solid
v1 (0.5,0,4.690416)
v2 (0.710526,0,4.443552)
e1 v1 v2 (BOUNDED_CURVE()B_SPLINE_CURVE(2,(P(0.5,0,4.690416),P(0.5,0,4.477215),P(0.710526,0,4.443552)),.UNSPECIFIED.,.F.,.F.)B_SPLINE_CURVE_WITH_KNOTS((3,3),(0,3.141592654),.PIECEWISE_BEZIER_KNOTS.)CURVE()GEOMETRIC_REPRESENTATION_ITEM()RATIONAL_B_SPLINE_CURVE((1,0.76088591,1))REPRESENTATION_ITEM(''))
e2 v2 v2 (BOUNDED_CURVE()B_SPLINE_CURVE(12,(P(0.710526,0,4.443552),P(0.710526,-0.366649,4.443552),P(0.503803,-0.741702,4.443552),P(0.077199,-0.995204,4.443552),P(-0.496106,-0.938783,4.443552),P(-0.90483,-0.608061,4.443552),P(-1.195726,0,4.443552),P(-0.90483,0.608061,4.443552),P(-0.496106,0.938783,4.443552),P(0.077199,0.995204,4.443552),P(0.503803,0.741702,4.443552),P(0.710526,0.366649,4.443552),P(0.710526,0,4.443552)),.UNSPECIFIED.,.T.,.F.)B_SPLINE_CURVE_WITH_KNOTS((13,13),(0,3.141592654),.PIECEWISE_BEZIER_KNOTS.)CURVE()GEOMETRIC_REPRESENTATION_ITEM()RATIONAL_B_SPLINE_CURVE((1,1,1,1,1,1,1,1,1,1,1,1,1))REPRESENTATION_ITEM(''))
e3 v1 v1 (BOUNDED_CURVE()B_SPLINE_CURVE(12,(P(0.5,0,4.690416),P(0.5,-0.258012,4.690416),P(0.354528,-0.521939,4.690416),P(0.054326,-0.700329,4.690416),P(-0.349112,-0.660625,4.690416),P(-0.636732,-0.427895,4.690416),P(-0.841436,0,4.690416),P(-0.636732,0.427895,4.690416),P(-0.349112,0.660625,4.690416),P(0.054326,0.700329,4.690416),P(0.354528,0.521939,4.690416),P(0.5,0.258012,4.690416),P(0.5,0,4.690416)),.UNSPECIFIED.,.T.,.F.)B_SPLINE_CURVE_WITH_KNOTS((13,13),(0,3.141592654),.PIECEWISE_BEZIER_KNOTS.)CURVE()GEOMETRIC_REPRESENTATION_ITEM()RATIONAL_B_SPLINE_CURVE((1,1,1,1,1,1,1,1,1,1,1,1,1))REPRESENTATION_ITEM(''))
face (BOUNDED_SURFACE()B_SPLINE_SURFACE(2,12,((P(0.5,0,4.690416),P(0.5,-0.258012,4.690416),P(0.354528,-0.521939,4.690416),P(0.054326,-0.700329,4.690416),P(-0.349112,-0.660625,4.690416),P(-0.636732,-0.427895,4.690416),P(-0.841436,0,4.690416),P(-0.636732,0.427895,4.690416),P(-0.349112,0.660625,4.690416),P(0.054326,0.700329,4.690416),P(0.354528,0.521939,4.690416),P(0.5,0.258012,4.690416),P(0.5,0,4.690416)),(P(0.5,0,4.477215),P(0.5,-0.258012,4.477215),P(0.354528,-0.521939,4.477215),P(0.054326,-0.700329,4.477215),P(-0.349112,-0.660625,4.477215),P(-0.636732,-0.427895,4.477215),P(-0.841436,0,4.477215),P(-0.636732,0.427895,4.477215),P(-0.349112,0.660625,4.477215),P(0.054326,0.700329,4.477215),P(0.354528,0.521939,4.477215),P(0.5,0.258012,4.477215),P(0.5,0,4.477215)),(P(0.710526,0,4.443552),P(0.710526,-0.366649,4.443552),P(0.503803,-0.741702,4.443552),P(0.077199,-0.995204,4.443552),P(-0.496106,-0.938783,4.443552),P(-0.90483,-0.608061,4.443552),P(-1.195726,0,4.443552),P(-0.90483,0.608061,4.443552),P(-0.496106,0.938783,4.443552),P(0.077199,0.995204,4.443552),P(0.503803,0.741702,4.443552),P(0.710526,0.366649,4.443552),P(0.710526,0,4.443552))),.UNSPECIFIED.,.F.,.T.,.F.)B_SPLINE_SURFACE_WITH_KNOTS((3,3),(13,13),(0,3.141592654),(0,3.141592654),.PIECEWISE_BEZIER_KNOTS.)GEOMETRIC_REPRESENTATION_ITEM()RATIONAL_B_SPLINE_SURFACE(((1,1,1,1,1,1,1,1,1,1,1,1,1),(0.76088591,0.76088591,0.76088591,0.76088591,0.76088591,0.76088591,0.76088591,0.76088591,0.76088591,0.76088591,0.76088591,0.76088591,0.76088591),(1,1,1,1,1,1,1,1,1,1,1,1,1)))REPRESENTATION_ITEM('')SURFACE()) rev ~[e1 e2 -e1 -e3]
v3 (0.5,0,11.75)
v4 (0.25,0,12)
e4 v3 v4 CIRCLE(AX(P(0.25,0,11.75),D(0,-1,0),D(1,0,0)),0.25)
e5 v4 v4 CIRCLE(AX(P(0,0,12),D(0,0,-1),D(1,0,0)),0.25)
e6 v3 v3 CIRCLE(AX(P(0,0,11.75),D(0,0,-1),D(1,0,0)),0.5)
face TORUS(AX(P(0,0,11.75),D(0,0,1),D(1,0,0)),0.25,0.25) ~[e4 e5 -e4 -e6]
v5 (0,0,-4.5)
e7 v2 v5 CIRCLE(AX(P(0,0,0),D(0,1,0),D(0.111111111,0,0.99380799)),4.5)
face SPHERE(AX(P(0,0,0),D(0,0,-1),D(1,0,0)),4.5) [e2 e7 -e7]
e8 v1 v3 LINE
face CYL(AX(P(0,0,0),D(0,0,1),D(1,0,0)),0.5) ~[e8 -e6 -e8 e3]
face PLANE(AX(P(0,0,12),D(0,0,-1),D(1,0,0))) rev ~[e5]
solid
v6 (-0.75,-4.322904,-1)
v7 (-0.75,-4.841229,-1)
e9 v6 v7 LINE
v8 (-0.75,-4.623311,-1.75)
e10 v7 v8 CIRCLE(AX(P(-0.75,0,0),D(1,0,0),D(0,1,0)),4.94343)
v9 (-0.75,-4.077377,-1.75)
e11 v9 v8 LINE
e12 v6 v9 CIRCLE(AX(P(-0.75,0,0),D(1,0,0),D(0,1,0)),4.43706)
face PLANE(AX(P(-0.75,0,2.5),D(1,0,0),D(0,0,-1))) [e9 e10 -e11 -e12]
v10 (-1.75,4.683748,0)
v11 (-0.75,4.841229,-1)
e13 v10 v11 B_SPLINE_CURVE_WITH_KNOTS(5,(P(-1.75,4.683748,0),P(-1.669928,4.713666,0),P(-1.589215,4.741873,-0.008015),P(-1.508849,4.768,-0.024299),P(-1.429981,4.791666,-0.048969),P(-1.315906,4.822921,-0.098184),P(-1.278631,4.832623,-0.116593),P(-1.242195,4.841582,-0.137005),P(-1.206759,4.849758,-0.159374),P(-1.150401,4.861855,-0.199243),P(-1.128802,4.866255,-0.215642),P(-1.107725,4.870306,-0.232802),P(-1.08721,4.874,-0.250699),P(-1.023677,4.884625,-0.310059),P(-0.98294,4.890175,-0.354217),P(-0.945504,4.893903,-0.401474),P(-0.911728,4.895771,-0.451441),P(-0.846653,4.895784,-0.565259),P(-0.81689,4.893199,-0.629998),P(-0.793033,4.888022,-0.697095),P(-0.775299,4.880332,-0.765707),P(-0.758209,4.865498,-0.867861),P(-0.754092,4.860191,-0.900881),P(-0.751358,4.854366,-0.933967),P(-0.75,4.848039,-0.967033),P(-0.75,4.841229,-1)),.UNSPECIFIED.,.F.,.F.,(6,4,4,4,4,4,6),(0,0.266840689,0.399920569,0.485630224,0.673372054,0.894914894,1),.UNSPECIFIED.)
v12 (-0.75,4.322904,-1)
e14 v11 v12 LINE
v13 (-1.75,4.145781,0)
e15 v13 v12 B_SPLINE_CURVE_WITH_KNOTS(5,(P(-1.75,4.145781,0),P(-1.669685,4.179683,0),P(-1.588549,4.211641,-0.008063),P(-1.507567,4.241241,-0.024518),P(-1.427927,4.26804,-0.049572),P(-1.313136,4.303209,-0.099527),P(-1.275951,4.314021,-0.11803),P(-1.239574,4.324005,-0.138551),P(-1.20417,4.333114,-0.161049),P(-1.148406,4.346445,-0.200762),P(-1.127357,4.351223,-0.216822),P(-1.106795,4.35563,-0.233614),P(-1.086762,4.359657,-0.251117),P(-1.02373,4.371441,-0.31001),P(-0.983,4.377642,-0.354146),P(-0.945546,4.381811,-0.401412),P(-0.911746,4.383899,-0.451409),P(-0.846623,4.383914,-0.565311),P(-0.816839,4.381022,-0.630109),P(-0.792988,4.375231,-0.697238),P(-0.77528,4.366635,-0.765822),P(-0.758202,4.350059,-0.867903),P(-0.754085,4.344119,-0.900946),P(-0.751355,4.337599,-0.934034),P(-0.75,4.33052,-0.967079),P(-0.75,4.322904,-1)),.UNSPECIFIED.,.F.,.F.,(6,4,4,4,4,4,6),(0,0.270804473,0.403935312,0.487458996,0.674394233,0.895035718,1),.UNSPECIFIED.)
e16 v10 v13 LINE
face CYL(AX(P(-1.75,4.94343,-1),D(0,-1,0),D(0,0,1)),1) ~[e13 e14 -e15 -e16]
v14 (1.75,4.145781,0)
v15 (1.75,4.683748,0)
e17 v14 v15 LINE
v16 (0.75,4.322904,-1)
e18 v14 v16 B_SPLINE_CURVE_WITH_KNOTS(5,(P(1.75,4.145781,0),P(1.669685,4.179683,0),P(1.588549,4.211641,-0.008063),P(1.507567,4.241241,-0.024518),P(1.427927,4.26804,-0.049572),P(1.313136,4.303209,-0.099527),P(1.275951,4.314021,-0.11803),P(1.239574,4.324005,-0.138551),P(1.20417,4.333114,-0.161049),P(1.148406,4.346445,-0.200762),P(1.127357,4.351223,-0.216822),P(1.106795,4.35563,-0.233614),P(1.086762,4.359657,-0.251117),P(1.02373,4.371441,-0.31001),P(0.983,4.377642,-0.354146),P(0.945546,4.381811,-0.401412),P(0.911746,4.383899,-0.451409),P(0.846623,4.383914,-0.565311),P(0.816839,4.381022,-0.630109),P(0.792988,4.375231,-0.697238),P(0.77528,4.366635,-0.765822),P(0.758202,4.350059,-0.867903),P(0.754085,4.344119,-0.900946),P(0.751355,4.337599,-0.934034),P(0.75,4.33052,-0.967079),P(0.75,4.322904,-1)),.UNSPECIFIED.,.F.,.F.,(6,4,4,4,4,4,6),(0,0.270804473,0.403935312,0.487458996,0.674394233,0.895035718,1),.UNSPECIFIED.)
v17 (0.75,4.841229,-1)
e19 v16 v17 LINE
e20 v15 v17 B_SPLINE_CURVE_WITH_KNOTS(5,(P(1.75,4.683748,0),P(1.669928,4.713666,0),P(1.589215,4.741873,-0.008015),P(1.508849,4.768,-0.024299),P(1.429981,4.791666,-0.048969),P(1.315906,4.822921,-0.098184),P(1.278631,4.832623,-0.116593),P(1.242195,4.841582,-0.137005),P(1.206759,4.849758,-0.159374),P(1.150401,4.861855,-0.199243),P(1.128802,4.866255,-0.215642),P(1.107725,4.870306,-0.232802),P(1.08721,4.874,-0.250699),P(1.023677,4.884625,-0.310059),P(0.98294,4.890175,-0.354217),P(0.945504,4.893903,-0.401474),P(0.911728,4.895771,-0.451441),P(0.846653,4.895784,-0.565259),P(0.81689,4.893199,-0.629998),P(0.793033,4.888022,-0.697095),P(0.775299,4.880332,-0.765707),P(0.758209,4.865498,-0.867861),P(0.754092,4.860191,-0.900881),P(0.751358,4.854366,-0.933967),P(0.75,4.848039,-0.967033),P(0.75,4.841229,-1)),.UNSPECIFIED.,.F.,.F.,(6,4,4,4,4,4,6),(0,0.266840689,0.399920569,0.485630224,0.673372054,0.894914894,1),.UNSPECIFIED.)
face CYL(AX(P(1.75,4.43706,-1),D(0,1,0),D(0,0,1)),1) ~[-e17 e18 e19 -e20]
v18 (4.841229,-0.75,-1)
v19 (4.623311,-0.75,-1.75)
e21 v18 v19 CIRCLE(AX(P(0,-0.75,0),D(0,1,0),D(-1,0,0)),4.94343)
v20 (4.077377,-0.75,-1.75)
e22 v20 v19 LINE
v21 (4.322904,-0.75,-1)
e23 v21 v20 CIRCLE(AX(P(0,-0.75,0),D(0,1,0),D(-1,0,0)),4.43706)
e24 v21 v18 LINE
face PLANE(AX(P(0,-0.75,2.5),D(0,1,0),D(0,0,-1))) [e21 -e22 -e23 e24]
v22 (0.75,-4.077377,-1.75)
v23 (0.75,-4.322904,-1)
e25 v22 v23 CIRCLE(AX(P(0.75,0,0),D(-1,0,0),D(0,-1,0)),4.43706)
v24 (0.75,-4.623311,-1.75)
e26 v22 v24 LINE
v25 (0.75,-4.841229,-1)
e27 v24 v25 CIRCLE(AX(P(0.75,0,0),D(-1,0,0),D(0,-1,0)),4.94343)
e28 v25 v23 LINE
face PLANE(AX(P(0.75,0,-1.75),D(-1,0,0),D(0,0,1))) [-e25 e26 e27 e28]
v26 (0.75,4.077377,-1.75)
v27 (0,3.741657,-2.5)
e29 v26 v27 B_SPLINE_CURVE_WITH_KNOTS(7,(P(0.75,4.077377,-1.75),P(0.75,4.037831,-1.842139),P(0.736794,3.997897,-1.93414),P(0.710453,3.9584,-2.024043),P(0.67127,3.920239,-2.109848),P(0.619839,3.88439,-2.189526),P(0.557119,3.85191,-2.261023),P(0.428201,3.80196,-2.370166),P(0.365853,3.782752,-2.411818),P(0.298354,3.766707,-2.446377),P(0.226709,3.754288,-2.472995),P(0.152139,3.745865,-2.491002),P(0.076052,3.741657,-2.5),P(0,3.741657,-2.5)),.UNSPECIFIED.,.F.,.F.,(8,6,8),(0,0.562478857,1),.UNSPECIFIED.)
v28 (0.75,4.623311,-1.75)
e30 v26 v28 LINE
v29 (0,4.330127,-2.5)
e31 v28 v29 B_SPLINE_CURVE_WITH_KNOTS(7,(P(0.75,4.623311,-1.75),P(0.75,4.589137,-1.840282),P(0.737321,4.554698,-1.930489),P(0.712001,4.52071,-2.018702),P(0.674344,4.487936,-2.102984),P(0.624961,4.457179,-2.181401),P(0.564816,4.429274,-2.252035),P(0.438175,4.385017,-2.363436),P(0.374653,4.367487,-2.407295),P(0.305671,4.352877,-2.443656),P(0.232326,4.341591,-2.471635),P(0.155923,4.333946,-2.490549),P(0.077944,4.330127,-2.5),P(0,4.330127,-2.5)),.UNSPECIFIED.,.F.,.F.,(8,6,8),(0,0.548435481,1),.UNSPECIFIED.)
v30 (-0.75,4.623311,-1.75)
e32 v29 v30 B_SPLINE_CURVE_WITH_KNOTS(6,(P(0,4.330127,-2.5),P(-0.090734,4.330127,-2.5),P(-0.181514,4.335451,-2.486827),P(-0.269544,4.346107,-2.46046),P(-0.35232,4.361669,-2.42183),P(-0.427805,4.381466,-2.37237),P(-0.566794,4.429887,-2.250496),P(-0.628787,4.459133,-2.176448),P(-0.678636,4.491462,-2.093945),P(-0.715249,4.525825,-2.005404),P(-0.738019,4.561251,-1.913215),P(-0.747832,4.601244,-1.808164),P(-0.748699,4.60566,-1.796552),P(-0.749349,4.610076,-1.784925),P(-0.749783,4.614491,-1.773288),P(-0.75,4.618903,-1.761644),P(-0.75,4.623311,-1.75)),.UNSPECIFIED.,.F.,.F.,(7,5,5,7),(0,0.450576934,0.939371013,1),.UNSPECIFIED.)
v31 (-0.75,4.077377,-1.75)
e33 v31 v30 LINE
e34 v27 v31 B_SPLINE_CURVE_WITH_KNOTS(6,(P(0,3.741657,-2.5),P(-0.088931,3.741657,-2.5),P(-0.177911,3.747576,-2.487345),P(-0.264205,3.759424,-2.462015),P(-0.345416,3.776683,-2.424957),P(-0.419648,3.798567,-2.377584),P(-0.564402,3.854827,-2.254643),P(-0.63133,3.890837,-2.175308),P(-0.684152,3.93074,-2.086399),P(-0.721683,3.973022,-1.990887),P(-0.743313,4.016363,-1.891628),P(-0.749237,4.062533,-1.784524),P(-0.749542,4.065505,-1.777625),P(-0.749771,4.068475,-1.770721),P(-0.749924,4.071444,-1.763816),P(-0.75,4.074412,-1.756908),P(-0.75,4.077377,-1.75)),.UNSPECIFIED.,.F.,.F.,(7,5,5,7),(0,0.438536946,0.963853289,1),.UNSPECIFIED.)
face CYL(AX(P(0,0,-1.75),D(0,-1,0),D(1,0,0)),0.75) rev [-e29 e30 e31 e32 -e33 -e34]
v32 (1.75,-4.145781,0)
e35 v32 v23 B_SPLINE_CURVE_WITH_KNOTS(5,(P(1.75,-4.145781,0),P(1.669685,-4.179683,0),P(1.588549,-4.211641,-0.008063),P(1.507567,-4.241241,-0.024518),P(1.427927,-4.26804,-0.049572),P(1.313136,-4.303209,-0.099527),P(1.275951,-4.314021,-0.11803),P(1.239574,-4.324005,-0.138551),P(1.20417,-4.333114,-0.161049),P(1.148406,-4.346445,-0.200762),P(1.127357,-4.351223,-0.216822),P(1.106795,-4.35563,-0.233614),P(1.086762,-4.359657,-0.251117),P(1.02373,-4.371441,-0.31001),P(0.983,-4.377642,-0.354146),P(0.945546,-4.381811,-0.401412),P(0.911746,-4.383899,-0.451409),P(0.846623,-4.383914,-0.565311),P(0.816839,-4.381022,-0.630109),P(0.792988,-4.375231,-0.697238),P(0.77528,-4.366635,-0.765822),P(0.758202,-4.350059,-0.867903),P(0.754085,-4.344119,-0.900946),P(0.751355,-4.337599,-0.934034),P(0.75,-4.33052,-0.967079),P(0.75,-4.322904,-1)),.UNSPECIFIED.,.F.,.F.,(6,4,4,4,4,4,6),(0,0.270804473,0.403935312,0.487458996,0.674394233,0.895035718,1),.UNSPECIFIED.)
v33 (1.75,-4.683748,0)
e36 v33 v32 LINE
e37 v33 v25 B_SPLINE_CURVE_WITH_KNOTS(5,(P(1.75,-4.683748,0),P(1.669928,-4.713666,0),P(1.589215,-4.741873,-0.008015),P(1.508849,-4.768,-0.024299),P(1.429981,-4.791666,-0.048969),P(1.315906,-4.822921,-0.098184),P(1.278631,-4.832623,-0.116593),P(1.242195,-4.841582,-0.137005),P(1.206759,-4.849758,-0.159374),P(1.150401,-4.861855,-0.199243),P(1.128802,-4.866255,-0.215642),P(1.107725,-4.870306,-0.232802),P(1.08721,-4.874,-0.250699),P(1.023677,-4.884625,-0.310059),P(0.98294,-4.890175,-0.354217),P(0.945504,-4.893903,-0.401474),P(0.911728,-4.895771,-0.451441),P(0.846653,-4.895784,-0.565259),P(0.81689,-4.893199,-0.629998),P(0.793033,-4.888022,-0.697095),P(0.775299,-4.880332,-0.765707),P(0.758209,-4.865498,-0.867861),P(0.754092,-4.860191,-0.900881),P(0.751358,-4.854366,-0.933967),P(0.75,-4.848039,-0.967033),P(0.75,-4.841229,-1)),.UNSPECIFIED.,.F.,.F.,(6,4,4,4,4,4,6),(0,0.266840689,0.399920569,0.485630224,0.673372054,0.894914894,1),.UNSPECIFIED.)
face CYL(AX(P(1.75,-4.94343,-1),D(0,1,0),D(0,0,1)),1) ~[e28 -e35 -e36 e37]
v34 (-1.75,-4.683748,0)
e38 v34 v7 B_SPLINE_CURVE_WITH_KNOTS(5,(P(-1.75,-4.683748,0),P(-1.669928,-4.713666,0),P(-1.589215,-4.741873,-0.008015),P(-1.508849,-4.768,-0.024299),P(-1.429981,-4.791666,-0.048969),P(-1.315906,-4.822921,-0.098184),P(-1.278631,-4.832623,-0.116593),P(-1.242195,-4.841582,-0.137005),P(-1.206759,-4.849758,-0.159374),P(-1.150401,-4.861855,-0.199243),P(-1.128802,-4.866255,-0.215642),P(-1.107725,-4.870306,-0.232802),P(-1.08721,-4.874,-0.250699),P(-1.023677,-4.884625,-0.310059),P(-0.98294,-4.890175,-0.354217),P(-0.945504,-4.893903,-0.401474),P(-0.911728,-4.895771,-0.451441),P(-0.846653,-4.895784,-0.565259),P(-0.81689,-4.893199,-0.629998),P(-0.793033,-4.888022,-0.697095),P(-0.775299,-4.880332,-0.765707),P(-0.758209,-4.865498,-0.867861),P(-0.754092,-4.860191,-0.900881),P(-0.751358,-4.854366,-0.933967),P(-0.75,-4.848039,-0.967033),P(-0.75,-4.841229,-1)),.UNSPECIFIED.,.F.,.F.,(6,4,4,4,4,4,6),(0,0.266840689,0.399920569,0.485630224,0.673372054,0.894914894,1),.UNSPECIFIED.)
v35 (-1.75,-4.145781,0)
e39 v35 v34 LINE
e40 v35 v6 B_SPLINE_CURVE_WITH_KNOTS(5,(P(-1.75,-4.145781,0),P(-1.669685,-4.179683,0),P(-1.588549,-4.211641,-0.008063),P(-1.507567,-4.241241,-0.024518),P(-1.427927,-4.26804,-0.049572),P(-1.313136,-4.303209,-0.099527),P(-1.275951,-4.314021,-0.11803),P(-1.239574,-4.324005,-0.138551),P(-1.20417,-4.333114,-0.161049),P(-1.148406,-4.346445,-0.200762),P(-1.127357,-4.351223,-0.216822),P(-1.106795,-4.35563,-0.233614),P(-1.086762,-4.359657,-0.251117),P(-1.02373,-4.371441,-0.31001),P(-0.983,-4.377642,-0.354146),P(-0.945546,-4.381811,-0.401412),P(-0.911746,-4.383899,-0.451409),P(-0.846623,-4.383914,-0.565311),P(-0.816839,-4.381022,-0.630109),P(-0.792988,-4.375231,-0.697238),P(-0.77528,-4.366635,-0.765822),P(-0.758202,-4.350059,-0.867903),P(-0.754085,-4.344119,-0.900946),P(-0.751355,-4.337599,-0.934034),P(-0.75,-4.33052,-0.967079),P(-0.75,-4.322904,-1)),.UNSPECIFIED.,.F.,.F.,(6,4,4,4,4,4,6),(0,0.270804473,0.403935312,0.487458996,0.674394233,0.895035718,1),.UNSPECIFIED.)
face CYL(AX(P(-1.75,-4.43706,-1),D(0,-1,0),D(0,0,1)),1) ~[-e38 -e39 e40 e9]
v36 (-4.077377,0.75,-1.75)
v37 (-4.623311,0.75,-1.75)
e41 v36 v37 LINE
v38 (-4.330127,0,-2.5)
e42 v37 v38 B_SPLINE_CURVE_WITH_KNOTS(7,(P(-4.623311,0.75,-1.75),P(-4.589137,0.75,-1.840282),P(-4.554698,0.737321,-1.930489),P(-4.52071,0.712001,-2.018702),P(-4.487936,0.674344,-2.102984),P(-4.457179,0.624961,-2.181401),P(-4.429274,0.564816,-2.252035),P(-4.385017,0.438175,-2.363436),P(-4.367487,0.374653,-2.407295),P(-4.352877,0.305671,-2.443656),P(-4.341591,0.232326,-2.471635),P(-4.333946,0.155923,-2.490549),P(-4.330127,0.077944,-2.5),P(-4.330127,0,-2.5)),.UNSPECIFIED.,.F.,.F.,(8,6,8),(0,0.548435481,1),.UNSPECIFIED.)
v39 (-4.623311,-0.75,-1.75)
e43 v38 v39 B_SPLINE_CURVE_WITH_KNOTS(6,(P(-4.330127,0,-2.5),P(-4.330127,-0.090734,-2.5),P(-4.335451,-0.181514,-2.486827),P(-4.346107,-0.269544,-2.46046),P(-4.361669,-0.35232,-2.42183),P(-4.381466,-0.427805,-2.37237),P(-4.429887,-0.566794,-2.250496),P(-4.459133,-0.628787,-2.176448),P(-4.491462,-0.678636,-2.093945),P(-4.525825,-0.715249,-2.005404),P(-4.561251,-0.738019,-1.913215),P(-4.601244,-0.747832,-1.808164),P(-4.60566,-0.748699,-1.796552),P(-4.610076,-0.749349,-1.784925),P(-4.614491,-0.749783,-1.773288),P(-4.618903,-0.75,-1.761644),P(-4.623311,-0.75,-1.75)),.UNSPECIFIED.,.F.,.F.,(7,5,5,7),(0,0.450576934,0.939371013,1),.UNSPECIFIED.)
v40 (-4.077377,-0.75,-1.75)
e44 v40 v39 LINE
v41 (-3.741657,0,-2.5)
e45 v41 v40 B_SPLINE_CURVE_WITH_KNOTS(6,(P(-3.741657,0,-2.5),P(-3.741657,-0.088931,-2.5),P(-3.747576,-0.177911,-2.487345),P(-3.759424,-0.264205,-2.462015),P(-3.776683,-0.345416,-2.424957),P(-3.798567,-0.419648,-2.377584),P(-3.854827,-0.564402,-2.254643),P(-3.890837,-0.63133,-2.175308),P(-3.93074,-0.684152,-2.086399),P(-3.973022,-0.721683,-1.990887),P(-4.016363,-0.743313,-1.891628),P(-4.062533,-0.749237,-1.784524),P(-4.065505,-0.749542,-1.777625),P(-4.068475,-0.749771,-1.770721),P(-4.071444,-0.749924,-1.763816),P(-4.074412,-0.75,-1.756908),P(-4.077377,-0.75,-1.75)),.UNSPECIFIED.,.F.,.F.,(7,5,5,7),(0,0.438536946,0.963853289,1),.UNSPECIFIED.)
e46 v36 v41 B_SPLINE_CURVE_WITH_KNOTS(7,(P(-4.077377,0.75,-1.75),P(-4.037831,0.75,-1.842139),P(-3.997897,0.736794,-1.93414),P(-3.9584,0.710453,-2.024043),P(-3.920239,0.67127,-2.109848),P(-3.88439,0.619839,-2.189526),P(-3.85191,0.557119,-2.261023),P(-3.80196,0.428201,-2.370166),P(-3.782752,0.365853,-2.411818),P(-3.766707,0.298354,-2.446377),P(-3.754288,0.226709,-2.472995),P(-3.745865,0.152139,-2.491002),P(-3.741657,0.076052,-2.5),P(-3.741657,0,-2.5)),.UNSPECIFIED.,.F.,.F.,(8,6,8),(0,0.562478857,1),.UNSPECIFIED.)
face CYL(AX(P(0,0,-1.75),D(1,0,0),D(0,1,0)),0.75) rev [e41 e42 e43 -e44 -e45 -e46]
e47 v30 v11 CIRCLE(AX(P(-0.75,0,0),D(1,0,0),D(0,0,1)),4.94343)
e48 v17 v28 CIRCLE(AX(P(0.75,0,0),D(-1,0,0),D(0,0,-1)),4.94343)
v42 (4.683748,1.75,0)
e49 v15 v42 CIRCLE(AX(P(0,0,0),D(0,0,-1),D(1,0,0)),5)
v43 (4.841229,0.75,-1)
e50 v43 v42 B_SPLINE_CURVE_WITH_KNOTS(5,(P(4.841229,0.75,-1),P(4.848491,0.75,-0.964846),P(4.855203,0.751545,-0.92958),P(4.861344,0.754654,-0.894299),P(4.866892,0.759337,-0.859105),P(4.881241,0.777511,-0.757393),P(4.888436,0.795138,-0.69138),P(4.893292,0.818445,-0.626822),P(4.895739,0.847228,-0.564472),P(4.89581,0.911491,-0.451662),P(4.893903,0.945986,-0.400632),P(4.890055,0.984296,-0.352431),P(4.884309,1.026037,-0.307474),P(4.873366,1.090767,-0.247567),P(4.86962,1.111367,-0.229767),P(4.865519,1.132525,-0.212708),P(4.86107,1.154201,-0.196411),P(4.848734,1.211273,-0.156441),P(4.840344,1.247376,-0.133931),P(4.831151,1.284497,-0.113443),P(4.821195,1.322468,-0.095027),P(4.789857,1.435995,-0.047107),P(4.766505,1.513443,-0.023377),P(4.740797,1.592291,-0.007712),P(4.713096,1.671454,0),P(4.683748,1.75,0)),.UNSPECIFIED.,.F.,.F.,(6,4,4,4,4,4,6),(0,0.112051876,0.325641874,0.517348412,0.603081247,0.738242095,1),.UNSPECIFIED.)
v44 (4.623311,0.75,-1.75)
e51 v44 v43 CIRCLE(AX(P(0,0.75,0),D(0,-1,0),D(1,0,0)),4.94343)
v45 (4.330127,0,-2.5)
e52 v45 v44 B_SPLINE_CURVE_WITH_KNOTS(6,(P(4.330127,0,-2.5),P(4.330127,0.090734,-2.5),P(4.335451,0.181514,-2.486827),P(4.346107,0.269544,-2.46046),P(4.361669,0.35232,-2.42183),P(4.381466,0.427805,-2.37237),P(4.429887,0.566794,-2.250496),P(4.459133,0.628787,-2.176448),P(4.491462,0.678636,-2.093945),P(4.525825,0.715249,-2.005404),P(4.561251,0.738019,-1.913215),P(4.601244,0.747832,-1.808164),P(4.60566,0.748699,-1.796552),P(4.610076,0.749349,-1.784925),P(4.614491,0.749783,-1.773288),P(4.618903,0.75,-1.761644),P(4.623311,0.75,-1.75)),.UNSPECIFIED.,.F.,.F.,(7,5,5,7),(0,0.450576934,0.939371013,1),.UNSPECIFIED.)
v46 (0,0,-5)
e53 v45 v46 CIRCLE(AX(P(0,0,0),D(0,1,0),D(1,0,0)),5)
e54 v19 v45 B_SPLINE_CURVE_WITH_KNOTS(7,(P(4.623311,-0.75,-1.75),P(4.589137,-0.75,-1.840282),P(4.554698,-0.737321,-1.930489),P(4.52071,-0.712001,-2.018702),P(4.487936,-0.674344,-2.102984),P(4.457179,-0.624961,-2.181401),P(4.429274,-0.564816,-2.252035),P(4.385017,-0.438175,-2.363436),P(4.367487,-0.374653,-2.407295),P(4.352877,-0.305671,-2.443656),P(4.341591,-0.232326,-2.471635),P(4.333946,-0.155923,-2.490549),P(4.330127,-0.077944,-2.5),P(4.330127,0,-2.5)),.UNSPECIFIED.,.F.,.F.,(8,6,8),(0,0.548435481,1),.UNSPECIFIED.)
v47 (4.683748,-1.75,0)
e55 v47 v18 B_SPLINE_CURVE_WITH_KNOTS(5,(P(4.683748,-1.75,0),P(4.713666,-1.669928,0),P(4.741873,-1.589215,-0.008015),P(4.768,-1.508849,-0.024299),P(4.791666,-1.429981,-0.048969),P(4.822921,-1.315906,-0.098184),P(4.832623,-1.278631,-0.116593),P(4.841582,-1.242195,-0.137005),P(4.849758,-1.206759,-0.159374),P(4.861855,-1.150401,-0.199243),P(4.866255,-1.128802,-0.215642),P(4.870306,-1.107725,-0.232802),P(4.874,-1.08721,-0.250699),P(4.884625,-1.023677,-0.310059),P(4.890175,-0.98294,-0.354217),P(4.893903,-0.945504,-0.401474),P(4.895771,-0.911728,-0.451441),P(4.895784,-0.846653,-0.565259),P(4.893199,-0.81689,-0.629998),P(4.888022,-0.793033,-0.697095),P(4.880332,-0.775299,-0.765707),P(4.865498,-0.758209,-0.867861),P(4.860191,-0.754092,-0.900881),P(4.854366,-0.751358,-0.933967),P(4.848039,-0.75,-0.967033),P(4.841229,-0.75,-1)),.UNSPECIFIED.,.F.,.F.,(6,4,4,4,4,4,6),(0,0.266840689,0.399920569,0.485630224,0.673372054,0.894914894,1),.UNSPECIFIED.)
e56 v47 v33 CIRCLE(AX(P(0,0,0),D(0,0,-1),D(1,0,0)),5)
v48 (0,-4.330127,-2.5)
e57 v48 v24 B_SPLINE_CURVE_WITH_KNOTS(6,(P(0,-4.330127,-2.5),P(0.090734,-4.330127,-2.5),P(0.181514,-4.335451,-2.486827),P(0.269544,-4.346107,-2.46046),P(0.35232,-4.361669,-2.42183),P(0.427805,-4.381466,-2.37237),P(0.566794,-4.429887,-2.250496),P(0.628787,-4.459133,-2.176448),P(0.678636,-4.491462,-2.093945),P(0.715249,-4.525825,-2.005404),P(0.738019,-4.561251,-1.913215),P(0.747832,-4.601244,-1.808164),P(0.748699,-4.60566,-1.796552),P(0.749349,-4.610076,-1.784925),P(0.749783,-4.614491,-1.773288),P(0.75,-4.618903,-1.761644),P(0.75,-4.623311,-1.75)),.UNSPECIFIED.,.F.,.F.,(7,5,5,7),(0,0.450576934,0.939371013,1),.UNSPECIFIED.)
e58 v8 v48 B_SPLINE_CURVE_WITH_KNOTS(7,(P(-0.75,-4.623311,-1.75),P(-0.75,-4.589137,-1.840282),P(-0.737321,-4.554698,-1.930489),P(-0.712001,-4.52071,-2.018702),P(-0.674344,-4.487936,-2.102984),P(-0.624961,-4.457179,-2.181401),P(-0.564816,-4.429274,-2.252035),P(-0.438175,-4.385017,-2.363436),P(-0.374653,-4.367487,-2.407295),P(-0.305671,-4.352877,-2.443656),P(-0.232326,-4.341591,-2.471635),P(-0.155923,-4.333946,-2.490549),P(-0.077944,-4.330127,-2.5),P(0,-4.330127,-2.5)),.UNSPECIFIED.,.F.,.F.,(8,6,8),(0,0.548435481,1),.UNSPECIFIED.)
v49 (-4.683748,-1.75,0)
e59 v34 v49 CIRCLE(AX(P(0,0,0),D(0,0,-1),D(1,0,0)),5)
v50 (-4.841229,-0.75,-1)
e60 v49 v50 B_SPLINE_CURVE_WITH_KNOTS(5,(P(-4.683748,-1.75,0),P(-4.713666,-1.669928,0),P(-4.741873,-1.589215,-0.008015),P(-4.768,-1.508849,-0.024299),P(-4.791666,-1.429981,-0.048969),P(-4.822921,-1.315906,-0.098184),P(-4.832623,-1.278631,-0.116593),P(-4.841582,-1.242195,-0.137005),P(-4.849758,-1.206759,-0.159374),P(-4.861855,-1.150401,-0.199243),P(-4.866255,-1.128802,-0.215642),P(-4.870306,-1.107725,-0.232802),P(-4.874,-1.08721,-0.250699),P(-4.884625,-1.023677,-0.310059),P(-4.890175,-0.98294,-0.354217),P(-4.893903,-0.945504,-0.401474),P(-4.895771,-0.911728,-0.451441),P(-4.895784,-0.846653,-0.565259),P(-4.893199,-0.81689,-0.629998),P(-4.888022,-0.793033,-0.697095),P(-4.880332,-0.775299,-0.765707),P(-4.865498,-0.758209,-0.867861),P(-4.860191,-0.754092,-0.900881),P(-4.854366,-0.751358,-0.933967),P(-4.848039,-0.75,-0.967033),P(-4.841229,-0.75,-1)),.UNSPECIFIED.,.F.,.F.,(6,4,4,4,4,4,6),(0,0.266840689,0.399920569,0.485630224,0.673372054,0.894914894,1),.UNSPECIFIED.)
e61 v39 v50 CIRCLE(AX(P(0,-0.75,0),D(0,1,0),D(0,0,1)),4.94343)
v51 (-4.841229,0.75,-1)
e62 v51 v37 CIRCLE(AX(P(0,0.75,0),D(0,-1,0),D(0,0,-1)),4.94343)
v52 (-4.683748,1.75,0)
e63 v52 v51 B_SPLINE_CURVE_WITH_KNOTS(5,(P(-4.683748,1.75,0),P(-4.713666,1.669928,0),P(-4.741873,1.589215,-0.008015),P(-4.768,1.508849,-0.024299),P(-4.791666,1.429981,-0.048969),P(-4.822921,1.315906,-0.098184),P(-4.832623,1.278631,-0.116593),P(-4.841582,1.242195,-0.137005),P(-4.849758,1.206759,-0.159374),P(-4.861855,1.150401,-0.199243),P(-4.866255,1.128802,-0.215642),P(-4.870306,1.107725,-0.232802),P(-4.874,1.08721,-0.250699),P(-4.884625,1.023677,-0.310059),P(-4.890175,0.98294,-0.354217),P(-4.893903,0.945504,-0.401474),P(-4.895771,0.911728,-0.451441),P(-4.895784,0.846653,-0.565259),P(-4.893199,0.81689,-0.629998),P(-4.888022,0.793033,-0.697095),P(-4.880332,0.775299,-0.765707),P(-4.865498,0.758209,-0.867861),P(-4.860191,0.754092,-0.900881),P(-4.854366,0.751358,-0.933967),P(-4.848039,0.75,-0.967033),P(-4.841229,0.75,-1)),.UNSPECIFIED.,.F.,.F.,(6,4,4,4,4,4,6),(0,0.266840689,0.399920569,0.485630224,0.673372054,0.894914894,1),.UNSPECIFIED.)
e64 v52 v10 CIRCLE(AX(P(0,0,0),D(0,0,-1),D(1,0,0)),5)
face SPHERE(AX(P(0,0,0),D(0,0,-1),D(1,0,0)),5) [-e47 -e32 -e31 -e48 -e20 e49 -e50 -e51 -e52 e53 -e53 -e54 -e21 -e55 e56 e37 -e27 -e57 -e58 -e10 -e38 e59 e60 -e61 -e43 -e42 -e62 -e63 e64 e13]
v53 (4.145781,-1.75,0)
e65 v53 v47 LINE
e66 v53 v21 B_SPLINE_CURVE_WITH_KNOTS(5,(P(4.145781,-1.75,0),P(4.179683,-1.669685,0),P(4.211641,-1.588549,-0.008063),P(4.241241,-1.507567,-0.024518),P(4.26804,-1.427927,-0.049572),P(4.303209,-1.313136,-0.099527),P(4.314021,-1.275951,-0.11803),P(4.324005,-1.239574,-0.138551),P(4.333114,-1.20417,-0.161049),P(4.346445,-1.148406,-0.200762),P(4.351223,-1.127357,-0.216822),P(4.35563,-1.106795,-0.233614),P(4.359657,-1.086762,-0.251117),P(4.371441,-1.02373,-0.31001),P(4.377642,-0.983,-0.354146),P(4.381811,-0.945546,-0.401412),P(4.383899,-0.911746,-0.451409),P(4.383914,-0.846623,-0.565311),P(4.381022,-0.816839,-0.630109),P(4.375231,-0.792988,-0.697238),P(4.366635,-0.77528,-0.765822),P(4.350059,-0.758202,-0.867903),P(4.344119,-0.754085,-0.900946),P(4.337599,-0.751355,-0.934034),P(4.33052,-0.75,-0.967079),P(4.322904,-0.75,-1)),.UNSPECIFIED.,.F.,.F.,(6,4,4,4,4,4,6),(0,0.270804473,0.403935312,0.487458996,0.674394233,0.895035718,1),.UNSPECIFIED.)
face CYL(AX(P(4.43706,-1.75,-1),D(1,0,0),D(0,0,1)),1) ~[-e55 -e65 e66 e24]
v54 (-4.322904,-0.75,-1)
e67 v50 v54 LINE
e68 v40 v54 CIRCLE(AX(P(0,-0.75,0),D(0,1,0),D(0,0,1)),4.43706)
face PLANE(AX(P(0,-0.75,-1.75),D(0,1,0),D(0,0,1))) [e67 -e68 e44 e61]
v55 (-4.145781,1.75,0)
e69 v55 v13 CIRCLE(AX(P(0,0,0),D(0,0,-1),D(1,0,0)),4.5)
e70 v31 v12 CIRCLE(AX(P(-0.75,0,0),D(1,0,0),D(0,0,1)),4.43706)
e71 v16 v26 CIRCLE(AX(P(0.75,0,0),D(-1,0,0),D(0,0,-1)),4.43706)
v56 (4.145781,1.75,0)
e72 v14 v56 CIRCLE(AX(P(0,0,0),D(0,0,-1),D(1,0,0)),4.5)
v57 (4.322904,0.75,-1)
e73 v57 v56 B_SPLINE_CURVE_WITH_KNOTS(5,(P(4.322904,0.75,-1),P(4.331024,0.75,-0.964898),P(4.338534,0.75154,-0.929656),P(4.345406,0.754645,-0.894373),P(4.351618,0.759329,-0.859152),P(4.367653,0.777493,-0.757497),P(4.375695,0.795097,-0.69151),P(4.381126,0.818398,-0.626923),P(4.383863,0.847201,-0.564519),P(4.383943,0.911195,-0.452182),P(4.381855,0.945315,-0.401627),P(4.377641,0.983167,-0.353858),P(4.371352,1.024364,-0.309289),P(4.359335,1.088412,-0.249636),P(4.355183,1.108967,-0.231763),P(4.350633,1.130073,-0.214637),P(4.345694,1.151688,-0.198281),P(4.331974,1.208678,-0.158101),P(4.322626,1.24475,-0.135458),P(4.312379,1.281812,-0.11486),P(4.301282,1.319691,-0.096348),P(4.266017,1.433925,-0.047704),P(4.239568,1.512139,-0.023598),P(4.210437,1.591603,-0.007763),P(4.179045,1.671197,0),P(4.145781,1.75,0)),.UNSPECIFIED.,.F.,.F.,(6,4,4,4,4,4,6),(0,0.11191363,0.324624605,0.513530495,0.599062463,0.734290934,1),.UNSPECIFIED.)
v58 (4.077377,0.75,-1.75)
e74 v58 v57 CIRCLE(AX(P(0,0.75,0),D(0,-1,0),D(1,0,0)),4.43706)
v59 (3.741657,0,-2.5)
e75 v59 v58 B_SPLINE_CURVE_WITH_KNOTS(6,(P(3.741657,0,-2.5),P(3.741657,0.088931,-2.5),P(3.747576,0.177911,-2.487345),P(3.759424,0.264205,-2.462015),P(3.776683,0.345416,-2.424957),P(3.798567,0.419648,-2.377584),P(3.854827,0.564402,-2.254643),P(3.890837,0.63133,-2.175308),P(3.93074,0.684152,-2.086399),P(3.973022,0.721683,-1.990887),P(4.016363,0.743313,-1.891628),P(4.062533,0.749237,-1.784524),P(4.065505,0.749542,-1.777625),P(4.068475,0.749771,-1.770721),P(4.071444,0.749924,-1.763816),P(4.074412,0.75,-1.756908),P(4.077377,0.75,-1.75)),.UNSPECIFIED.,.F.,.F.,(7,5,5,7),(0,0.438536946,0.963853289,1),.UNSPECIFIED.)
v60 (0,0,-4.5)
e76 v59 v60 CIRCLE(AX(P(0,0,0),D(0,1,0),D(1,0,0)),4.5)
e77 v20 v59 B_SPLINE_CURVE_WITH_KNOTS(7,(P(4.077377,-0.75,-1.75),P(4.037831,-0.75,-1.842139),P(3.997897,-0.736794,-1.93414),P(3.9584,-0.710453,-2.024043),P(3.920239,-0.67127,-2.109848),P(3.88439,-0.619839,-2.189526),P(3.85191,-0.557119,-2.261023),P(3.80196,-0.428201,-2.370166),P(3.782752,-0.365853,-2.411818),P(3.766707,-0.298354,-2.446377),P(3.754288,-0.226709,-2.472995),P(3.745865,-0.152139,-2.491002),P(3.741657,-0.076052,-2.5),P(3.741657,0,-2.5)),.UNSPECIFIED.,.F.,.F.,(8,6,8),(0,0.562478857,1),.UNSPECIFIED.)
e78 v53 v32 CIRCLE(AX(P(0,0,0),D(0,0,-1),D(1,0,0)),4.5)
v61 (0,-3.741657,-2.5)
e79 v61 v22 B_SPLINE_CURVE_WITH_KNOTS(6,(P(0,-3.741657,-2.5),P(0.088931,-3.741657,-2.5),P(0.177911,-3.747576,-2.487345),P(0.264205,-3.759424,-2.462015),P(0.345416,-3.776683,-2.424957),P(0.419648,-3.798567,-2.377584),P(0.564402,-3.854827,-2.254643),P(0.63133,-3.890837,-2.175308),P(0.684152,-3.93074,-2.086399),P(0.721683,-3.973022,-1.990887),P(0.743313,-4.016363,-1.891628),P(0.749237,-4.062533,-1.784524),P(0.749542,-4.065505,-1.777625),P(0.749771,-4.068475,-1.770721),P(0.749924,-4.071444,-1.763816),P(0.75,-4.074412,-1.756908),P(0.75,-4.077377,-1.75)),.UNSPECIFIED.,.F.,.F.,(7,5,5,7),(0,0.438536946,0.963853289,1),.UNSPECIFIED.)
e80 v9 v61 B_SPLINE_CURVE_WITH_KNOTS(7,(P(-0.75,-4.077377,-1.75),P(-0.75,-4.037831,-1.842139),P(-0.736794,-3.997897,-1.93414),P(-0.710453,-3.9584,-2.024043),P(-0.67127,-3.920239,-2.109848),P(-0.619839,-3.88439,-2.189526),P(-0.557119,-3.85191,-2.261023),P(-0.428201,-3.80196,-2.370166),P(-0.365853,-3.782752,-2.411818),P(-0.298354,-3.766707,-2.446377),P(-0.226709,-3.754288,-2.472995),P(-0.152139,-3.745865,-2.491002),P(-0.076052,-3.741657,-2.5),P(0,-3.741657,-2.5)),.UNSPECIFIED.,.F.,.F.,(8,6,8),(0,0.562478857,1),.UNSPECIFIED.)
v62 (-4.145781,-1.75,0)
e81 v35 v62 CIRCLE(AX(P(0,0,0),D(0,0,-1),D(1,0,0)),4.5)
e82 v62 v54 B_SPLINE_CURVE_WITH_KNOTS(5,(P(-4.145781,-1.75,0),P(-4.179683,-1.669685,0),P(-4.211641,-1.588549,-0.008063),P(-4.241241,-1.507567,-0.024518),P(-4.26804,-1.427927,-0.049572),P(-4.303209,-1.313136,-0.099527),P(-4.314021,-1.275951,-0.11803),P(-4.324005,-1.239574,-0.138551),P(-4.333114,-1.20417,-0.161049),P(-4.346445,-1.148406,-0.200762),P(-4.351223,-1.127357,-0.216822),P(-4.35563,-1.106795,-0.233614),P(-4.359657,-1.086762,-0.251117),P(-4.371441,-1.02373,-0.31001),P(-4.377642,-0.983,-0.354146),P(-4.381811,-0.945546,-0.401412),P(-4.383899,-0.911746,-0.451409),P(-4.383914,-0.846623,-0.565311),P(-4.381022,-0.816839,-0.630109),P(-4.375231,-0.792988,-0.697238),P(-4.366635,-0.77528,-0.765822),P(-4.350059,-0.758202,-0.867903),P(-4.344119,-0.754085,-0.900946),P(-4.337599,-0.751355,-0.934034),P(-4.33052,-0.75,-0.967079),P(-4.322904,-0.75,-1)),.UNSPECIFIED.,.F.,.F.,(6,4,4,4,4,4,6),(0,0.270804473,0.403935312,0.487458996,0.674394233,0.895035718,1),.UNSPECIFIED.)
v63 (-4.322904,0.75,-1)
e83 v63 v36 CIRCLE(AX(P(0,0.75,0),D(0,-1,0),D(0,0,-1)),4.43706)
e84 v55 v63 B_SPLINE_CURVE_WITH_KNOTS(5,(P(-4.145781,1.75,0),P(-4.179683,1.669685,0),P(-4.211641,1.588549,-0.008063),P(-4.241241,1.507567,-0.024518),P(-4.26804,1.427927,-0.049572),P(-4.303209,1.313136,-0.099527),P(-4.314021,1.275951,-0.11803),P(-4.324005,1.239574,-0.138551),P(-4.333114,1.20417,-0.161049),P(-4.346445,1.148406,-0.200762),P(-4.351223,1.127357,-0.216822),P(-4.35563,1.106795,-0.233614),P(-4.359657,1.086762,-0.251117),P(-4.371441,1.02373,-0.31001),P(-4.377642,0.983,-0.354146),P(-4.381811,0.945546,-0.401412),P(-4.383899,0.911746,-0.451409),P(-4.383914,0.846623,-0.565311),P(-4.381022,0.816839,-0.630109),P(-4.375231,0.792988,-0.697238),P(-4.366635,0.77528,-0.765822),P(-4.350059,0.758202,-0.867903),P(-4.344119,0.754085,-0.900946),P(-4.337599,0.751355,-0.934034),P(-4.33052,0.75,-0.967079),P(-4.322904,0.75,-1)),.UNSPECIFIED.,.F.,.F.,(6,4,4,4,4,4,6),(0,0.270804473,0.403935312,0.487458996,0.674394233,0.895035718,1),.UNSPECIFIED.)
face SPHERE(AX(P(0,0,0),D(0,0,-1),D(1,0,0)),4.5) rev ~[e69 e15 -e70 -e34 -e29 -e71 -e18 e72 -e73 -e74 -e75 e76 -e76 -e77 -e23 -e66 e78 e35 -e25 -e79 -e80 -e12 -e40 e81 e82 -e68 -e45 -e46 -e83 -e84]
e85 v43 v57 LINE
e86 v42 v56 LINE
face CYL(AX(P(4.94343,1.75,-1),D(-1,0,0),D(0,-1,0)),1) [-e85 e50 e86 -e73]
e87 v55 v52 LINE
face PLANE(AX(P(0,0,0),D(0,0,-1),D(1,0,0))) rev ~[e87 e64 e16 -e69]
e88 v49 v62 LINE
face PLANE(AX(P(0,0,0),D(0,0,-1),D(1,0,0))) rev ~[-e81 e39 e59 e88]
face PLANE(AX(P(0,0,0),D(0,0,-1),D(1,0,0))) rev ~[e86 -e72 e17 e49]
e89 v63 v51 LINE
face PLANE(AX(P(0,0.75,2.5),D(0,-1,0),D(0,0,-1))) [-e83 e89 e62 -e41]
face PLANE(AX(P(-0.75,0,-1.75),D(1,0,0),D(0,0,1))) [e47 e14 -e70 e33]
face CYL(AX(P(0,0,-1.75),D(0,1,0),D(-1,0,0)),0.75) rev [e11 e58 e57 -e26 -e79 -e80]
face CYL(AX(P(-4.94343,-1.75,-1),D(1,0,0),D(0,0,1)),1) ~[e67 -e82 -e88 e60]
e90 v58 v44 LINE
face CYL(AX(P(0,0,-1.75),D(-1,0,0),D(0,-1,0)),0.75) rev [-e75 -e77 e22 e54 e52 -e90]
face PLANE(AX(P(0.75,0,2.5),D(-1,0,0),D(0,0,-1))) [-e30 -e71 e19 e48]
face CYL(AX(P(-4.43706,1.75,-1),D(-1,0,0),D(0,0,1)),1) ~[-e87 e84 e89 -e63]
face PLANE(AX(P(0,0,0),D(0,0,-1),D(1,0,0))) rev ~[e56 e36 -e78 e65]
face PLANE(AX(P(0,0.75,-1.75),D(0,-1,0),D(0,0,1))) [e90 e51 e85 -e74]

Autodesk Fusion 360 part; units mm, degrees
sketch "Sketch1" plane through (0, 0, 0) normal (0, 1, 0) x (1, 0, 0)
  circle A0 centre (0, 0) radius 5
  circle A1 centre (0, 0) radius 4.5
  line L0 (0, -8) -> (0, 7.2449)
  line L1 (7.5, 0) -> (-7.5, 0)
  line L2 (0, 0) -> (0.5, 0)
  line L3 (0.5, 0) -> (0.5, -12)
  line L4 (0.5, -12) -> (0, -12)
  line L5 (0, -12) -> (0, 0)
  dimension "d1" = 10
  dimension "d2" = 9
  dimension "d3" = 0.5
  dimension "d4" = 12
revolve "Revolve1" add sketch "Sketch1" angle 360 about axis through (0, 0, 12) along (0, 0, -1) contours A0 A1 L0 L1 picked at (0.2372, 4.8164) makes body 1 in component "Component"
revolve "Revolve1'" add sketch "Sketch1" angle 360 about axis through (0, 0, 12) along (0, 0, -1) separate body contours A0 L0 L3 L4 L5 | A0 A1 L0 L3 L5 | A1 L0 L1 L2 | A1 L1 L3 | A1 L0 L1 L2 L3 L5 makes body 2 in component "Component'"
fillet "Fillet1" radius 0.25 2 edges at (-0.4662, -0.1808, 4.4721) (-0.4662, -0.1808, 12) on bodies 2 in component "Component'"
sketch "Sketch1 (2)" plane through (0, 0, 0) normal (0, 1, 0) x (1, 0, 0) in component "Component"
  line L0 (-0.75, 1.75) -> (-0.75, -2.5)
  line L1 (-0.75, -2.5) -> (0.75, -2.5)
  line L2 (0.75, -2.5) -> (0.75, 1.75)
  line L3 (0.75, 2.5) -> (-0.75, -2.5) construction
  line L4 (-0.75, 2.5) -> (0.75, -2.5) construction
  arc A0 (0, 2.5) -> (-0.75, 1.75) centre (0, 1.75) ccw
  arc A1 (0.75, 1.75) -> (0, 2.5) centre (0, 1.75) ccw
  dimension "d9" = 1.5
  dimension "d10" = 5
  dimension "d11" = 0.75
extrude "Extrude1" cut sketch "Sketch1 (2)" along normal blind 6 bodies 1 in component "Component"
fillet "Fillet1'" radius 1 2 edges at (0.75, 4.6902, 0) (-0.75, 4.6902, 0) on bodies 1 in component "Component"
pattern_circular "C-Pattern1" count 4 over 360 about axis through (0, 0, 1.75) along (0, 0, 1) of "Extrude1", "Fillet1'" in component "Component"
component "Component" placed x (1, 0, 0) y (0, 1, 0) z (0, 0, 1) at (0, 0, 0)
component "Component'" placed x (1, 0, 0) y (0, 1, 0) z (0, 0, 1) at (0, 0, 0)
